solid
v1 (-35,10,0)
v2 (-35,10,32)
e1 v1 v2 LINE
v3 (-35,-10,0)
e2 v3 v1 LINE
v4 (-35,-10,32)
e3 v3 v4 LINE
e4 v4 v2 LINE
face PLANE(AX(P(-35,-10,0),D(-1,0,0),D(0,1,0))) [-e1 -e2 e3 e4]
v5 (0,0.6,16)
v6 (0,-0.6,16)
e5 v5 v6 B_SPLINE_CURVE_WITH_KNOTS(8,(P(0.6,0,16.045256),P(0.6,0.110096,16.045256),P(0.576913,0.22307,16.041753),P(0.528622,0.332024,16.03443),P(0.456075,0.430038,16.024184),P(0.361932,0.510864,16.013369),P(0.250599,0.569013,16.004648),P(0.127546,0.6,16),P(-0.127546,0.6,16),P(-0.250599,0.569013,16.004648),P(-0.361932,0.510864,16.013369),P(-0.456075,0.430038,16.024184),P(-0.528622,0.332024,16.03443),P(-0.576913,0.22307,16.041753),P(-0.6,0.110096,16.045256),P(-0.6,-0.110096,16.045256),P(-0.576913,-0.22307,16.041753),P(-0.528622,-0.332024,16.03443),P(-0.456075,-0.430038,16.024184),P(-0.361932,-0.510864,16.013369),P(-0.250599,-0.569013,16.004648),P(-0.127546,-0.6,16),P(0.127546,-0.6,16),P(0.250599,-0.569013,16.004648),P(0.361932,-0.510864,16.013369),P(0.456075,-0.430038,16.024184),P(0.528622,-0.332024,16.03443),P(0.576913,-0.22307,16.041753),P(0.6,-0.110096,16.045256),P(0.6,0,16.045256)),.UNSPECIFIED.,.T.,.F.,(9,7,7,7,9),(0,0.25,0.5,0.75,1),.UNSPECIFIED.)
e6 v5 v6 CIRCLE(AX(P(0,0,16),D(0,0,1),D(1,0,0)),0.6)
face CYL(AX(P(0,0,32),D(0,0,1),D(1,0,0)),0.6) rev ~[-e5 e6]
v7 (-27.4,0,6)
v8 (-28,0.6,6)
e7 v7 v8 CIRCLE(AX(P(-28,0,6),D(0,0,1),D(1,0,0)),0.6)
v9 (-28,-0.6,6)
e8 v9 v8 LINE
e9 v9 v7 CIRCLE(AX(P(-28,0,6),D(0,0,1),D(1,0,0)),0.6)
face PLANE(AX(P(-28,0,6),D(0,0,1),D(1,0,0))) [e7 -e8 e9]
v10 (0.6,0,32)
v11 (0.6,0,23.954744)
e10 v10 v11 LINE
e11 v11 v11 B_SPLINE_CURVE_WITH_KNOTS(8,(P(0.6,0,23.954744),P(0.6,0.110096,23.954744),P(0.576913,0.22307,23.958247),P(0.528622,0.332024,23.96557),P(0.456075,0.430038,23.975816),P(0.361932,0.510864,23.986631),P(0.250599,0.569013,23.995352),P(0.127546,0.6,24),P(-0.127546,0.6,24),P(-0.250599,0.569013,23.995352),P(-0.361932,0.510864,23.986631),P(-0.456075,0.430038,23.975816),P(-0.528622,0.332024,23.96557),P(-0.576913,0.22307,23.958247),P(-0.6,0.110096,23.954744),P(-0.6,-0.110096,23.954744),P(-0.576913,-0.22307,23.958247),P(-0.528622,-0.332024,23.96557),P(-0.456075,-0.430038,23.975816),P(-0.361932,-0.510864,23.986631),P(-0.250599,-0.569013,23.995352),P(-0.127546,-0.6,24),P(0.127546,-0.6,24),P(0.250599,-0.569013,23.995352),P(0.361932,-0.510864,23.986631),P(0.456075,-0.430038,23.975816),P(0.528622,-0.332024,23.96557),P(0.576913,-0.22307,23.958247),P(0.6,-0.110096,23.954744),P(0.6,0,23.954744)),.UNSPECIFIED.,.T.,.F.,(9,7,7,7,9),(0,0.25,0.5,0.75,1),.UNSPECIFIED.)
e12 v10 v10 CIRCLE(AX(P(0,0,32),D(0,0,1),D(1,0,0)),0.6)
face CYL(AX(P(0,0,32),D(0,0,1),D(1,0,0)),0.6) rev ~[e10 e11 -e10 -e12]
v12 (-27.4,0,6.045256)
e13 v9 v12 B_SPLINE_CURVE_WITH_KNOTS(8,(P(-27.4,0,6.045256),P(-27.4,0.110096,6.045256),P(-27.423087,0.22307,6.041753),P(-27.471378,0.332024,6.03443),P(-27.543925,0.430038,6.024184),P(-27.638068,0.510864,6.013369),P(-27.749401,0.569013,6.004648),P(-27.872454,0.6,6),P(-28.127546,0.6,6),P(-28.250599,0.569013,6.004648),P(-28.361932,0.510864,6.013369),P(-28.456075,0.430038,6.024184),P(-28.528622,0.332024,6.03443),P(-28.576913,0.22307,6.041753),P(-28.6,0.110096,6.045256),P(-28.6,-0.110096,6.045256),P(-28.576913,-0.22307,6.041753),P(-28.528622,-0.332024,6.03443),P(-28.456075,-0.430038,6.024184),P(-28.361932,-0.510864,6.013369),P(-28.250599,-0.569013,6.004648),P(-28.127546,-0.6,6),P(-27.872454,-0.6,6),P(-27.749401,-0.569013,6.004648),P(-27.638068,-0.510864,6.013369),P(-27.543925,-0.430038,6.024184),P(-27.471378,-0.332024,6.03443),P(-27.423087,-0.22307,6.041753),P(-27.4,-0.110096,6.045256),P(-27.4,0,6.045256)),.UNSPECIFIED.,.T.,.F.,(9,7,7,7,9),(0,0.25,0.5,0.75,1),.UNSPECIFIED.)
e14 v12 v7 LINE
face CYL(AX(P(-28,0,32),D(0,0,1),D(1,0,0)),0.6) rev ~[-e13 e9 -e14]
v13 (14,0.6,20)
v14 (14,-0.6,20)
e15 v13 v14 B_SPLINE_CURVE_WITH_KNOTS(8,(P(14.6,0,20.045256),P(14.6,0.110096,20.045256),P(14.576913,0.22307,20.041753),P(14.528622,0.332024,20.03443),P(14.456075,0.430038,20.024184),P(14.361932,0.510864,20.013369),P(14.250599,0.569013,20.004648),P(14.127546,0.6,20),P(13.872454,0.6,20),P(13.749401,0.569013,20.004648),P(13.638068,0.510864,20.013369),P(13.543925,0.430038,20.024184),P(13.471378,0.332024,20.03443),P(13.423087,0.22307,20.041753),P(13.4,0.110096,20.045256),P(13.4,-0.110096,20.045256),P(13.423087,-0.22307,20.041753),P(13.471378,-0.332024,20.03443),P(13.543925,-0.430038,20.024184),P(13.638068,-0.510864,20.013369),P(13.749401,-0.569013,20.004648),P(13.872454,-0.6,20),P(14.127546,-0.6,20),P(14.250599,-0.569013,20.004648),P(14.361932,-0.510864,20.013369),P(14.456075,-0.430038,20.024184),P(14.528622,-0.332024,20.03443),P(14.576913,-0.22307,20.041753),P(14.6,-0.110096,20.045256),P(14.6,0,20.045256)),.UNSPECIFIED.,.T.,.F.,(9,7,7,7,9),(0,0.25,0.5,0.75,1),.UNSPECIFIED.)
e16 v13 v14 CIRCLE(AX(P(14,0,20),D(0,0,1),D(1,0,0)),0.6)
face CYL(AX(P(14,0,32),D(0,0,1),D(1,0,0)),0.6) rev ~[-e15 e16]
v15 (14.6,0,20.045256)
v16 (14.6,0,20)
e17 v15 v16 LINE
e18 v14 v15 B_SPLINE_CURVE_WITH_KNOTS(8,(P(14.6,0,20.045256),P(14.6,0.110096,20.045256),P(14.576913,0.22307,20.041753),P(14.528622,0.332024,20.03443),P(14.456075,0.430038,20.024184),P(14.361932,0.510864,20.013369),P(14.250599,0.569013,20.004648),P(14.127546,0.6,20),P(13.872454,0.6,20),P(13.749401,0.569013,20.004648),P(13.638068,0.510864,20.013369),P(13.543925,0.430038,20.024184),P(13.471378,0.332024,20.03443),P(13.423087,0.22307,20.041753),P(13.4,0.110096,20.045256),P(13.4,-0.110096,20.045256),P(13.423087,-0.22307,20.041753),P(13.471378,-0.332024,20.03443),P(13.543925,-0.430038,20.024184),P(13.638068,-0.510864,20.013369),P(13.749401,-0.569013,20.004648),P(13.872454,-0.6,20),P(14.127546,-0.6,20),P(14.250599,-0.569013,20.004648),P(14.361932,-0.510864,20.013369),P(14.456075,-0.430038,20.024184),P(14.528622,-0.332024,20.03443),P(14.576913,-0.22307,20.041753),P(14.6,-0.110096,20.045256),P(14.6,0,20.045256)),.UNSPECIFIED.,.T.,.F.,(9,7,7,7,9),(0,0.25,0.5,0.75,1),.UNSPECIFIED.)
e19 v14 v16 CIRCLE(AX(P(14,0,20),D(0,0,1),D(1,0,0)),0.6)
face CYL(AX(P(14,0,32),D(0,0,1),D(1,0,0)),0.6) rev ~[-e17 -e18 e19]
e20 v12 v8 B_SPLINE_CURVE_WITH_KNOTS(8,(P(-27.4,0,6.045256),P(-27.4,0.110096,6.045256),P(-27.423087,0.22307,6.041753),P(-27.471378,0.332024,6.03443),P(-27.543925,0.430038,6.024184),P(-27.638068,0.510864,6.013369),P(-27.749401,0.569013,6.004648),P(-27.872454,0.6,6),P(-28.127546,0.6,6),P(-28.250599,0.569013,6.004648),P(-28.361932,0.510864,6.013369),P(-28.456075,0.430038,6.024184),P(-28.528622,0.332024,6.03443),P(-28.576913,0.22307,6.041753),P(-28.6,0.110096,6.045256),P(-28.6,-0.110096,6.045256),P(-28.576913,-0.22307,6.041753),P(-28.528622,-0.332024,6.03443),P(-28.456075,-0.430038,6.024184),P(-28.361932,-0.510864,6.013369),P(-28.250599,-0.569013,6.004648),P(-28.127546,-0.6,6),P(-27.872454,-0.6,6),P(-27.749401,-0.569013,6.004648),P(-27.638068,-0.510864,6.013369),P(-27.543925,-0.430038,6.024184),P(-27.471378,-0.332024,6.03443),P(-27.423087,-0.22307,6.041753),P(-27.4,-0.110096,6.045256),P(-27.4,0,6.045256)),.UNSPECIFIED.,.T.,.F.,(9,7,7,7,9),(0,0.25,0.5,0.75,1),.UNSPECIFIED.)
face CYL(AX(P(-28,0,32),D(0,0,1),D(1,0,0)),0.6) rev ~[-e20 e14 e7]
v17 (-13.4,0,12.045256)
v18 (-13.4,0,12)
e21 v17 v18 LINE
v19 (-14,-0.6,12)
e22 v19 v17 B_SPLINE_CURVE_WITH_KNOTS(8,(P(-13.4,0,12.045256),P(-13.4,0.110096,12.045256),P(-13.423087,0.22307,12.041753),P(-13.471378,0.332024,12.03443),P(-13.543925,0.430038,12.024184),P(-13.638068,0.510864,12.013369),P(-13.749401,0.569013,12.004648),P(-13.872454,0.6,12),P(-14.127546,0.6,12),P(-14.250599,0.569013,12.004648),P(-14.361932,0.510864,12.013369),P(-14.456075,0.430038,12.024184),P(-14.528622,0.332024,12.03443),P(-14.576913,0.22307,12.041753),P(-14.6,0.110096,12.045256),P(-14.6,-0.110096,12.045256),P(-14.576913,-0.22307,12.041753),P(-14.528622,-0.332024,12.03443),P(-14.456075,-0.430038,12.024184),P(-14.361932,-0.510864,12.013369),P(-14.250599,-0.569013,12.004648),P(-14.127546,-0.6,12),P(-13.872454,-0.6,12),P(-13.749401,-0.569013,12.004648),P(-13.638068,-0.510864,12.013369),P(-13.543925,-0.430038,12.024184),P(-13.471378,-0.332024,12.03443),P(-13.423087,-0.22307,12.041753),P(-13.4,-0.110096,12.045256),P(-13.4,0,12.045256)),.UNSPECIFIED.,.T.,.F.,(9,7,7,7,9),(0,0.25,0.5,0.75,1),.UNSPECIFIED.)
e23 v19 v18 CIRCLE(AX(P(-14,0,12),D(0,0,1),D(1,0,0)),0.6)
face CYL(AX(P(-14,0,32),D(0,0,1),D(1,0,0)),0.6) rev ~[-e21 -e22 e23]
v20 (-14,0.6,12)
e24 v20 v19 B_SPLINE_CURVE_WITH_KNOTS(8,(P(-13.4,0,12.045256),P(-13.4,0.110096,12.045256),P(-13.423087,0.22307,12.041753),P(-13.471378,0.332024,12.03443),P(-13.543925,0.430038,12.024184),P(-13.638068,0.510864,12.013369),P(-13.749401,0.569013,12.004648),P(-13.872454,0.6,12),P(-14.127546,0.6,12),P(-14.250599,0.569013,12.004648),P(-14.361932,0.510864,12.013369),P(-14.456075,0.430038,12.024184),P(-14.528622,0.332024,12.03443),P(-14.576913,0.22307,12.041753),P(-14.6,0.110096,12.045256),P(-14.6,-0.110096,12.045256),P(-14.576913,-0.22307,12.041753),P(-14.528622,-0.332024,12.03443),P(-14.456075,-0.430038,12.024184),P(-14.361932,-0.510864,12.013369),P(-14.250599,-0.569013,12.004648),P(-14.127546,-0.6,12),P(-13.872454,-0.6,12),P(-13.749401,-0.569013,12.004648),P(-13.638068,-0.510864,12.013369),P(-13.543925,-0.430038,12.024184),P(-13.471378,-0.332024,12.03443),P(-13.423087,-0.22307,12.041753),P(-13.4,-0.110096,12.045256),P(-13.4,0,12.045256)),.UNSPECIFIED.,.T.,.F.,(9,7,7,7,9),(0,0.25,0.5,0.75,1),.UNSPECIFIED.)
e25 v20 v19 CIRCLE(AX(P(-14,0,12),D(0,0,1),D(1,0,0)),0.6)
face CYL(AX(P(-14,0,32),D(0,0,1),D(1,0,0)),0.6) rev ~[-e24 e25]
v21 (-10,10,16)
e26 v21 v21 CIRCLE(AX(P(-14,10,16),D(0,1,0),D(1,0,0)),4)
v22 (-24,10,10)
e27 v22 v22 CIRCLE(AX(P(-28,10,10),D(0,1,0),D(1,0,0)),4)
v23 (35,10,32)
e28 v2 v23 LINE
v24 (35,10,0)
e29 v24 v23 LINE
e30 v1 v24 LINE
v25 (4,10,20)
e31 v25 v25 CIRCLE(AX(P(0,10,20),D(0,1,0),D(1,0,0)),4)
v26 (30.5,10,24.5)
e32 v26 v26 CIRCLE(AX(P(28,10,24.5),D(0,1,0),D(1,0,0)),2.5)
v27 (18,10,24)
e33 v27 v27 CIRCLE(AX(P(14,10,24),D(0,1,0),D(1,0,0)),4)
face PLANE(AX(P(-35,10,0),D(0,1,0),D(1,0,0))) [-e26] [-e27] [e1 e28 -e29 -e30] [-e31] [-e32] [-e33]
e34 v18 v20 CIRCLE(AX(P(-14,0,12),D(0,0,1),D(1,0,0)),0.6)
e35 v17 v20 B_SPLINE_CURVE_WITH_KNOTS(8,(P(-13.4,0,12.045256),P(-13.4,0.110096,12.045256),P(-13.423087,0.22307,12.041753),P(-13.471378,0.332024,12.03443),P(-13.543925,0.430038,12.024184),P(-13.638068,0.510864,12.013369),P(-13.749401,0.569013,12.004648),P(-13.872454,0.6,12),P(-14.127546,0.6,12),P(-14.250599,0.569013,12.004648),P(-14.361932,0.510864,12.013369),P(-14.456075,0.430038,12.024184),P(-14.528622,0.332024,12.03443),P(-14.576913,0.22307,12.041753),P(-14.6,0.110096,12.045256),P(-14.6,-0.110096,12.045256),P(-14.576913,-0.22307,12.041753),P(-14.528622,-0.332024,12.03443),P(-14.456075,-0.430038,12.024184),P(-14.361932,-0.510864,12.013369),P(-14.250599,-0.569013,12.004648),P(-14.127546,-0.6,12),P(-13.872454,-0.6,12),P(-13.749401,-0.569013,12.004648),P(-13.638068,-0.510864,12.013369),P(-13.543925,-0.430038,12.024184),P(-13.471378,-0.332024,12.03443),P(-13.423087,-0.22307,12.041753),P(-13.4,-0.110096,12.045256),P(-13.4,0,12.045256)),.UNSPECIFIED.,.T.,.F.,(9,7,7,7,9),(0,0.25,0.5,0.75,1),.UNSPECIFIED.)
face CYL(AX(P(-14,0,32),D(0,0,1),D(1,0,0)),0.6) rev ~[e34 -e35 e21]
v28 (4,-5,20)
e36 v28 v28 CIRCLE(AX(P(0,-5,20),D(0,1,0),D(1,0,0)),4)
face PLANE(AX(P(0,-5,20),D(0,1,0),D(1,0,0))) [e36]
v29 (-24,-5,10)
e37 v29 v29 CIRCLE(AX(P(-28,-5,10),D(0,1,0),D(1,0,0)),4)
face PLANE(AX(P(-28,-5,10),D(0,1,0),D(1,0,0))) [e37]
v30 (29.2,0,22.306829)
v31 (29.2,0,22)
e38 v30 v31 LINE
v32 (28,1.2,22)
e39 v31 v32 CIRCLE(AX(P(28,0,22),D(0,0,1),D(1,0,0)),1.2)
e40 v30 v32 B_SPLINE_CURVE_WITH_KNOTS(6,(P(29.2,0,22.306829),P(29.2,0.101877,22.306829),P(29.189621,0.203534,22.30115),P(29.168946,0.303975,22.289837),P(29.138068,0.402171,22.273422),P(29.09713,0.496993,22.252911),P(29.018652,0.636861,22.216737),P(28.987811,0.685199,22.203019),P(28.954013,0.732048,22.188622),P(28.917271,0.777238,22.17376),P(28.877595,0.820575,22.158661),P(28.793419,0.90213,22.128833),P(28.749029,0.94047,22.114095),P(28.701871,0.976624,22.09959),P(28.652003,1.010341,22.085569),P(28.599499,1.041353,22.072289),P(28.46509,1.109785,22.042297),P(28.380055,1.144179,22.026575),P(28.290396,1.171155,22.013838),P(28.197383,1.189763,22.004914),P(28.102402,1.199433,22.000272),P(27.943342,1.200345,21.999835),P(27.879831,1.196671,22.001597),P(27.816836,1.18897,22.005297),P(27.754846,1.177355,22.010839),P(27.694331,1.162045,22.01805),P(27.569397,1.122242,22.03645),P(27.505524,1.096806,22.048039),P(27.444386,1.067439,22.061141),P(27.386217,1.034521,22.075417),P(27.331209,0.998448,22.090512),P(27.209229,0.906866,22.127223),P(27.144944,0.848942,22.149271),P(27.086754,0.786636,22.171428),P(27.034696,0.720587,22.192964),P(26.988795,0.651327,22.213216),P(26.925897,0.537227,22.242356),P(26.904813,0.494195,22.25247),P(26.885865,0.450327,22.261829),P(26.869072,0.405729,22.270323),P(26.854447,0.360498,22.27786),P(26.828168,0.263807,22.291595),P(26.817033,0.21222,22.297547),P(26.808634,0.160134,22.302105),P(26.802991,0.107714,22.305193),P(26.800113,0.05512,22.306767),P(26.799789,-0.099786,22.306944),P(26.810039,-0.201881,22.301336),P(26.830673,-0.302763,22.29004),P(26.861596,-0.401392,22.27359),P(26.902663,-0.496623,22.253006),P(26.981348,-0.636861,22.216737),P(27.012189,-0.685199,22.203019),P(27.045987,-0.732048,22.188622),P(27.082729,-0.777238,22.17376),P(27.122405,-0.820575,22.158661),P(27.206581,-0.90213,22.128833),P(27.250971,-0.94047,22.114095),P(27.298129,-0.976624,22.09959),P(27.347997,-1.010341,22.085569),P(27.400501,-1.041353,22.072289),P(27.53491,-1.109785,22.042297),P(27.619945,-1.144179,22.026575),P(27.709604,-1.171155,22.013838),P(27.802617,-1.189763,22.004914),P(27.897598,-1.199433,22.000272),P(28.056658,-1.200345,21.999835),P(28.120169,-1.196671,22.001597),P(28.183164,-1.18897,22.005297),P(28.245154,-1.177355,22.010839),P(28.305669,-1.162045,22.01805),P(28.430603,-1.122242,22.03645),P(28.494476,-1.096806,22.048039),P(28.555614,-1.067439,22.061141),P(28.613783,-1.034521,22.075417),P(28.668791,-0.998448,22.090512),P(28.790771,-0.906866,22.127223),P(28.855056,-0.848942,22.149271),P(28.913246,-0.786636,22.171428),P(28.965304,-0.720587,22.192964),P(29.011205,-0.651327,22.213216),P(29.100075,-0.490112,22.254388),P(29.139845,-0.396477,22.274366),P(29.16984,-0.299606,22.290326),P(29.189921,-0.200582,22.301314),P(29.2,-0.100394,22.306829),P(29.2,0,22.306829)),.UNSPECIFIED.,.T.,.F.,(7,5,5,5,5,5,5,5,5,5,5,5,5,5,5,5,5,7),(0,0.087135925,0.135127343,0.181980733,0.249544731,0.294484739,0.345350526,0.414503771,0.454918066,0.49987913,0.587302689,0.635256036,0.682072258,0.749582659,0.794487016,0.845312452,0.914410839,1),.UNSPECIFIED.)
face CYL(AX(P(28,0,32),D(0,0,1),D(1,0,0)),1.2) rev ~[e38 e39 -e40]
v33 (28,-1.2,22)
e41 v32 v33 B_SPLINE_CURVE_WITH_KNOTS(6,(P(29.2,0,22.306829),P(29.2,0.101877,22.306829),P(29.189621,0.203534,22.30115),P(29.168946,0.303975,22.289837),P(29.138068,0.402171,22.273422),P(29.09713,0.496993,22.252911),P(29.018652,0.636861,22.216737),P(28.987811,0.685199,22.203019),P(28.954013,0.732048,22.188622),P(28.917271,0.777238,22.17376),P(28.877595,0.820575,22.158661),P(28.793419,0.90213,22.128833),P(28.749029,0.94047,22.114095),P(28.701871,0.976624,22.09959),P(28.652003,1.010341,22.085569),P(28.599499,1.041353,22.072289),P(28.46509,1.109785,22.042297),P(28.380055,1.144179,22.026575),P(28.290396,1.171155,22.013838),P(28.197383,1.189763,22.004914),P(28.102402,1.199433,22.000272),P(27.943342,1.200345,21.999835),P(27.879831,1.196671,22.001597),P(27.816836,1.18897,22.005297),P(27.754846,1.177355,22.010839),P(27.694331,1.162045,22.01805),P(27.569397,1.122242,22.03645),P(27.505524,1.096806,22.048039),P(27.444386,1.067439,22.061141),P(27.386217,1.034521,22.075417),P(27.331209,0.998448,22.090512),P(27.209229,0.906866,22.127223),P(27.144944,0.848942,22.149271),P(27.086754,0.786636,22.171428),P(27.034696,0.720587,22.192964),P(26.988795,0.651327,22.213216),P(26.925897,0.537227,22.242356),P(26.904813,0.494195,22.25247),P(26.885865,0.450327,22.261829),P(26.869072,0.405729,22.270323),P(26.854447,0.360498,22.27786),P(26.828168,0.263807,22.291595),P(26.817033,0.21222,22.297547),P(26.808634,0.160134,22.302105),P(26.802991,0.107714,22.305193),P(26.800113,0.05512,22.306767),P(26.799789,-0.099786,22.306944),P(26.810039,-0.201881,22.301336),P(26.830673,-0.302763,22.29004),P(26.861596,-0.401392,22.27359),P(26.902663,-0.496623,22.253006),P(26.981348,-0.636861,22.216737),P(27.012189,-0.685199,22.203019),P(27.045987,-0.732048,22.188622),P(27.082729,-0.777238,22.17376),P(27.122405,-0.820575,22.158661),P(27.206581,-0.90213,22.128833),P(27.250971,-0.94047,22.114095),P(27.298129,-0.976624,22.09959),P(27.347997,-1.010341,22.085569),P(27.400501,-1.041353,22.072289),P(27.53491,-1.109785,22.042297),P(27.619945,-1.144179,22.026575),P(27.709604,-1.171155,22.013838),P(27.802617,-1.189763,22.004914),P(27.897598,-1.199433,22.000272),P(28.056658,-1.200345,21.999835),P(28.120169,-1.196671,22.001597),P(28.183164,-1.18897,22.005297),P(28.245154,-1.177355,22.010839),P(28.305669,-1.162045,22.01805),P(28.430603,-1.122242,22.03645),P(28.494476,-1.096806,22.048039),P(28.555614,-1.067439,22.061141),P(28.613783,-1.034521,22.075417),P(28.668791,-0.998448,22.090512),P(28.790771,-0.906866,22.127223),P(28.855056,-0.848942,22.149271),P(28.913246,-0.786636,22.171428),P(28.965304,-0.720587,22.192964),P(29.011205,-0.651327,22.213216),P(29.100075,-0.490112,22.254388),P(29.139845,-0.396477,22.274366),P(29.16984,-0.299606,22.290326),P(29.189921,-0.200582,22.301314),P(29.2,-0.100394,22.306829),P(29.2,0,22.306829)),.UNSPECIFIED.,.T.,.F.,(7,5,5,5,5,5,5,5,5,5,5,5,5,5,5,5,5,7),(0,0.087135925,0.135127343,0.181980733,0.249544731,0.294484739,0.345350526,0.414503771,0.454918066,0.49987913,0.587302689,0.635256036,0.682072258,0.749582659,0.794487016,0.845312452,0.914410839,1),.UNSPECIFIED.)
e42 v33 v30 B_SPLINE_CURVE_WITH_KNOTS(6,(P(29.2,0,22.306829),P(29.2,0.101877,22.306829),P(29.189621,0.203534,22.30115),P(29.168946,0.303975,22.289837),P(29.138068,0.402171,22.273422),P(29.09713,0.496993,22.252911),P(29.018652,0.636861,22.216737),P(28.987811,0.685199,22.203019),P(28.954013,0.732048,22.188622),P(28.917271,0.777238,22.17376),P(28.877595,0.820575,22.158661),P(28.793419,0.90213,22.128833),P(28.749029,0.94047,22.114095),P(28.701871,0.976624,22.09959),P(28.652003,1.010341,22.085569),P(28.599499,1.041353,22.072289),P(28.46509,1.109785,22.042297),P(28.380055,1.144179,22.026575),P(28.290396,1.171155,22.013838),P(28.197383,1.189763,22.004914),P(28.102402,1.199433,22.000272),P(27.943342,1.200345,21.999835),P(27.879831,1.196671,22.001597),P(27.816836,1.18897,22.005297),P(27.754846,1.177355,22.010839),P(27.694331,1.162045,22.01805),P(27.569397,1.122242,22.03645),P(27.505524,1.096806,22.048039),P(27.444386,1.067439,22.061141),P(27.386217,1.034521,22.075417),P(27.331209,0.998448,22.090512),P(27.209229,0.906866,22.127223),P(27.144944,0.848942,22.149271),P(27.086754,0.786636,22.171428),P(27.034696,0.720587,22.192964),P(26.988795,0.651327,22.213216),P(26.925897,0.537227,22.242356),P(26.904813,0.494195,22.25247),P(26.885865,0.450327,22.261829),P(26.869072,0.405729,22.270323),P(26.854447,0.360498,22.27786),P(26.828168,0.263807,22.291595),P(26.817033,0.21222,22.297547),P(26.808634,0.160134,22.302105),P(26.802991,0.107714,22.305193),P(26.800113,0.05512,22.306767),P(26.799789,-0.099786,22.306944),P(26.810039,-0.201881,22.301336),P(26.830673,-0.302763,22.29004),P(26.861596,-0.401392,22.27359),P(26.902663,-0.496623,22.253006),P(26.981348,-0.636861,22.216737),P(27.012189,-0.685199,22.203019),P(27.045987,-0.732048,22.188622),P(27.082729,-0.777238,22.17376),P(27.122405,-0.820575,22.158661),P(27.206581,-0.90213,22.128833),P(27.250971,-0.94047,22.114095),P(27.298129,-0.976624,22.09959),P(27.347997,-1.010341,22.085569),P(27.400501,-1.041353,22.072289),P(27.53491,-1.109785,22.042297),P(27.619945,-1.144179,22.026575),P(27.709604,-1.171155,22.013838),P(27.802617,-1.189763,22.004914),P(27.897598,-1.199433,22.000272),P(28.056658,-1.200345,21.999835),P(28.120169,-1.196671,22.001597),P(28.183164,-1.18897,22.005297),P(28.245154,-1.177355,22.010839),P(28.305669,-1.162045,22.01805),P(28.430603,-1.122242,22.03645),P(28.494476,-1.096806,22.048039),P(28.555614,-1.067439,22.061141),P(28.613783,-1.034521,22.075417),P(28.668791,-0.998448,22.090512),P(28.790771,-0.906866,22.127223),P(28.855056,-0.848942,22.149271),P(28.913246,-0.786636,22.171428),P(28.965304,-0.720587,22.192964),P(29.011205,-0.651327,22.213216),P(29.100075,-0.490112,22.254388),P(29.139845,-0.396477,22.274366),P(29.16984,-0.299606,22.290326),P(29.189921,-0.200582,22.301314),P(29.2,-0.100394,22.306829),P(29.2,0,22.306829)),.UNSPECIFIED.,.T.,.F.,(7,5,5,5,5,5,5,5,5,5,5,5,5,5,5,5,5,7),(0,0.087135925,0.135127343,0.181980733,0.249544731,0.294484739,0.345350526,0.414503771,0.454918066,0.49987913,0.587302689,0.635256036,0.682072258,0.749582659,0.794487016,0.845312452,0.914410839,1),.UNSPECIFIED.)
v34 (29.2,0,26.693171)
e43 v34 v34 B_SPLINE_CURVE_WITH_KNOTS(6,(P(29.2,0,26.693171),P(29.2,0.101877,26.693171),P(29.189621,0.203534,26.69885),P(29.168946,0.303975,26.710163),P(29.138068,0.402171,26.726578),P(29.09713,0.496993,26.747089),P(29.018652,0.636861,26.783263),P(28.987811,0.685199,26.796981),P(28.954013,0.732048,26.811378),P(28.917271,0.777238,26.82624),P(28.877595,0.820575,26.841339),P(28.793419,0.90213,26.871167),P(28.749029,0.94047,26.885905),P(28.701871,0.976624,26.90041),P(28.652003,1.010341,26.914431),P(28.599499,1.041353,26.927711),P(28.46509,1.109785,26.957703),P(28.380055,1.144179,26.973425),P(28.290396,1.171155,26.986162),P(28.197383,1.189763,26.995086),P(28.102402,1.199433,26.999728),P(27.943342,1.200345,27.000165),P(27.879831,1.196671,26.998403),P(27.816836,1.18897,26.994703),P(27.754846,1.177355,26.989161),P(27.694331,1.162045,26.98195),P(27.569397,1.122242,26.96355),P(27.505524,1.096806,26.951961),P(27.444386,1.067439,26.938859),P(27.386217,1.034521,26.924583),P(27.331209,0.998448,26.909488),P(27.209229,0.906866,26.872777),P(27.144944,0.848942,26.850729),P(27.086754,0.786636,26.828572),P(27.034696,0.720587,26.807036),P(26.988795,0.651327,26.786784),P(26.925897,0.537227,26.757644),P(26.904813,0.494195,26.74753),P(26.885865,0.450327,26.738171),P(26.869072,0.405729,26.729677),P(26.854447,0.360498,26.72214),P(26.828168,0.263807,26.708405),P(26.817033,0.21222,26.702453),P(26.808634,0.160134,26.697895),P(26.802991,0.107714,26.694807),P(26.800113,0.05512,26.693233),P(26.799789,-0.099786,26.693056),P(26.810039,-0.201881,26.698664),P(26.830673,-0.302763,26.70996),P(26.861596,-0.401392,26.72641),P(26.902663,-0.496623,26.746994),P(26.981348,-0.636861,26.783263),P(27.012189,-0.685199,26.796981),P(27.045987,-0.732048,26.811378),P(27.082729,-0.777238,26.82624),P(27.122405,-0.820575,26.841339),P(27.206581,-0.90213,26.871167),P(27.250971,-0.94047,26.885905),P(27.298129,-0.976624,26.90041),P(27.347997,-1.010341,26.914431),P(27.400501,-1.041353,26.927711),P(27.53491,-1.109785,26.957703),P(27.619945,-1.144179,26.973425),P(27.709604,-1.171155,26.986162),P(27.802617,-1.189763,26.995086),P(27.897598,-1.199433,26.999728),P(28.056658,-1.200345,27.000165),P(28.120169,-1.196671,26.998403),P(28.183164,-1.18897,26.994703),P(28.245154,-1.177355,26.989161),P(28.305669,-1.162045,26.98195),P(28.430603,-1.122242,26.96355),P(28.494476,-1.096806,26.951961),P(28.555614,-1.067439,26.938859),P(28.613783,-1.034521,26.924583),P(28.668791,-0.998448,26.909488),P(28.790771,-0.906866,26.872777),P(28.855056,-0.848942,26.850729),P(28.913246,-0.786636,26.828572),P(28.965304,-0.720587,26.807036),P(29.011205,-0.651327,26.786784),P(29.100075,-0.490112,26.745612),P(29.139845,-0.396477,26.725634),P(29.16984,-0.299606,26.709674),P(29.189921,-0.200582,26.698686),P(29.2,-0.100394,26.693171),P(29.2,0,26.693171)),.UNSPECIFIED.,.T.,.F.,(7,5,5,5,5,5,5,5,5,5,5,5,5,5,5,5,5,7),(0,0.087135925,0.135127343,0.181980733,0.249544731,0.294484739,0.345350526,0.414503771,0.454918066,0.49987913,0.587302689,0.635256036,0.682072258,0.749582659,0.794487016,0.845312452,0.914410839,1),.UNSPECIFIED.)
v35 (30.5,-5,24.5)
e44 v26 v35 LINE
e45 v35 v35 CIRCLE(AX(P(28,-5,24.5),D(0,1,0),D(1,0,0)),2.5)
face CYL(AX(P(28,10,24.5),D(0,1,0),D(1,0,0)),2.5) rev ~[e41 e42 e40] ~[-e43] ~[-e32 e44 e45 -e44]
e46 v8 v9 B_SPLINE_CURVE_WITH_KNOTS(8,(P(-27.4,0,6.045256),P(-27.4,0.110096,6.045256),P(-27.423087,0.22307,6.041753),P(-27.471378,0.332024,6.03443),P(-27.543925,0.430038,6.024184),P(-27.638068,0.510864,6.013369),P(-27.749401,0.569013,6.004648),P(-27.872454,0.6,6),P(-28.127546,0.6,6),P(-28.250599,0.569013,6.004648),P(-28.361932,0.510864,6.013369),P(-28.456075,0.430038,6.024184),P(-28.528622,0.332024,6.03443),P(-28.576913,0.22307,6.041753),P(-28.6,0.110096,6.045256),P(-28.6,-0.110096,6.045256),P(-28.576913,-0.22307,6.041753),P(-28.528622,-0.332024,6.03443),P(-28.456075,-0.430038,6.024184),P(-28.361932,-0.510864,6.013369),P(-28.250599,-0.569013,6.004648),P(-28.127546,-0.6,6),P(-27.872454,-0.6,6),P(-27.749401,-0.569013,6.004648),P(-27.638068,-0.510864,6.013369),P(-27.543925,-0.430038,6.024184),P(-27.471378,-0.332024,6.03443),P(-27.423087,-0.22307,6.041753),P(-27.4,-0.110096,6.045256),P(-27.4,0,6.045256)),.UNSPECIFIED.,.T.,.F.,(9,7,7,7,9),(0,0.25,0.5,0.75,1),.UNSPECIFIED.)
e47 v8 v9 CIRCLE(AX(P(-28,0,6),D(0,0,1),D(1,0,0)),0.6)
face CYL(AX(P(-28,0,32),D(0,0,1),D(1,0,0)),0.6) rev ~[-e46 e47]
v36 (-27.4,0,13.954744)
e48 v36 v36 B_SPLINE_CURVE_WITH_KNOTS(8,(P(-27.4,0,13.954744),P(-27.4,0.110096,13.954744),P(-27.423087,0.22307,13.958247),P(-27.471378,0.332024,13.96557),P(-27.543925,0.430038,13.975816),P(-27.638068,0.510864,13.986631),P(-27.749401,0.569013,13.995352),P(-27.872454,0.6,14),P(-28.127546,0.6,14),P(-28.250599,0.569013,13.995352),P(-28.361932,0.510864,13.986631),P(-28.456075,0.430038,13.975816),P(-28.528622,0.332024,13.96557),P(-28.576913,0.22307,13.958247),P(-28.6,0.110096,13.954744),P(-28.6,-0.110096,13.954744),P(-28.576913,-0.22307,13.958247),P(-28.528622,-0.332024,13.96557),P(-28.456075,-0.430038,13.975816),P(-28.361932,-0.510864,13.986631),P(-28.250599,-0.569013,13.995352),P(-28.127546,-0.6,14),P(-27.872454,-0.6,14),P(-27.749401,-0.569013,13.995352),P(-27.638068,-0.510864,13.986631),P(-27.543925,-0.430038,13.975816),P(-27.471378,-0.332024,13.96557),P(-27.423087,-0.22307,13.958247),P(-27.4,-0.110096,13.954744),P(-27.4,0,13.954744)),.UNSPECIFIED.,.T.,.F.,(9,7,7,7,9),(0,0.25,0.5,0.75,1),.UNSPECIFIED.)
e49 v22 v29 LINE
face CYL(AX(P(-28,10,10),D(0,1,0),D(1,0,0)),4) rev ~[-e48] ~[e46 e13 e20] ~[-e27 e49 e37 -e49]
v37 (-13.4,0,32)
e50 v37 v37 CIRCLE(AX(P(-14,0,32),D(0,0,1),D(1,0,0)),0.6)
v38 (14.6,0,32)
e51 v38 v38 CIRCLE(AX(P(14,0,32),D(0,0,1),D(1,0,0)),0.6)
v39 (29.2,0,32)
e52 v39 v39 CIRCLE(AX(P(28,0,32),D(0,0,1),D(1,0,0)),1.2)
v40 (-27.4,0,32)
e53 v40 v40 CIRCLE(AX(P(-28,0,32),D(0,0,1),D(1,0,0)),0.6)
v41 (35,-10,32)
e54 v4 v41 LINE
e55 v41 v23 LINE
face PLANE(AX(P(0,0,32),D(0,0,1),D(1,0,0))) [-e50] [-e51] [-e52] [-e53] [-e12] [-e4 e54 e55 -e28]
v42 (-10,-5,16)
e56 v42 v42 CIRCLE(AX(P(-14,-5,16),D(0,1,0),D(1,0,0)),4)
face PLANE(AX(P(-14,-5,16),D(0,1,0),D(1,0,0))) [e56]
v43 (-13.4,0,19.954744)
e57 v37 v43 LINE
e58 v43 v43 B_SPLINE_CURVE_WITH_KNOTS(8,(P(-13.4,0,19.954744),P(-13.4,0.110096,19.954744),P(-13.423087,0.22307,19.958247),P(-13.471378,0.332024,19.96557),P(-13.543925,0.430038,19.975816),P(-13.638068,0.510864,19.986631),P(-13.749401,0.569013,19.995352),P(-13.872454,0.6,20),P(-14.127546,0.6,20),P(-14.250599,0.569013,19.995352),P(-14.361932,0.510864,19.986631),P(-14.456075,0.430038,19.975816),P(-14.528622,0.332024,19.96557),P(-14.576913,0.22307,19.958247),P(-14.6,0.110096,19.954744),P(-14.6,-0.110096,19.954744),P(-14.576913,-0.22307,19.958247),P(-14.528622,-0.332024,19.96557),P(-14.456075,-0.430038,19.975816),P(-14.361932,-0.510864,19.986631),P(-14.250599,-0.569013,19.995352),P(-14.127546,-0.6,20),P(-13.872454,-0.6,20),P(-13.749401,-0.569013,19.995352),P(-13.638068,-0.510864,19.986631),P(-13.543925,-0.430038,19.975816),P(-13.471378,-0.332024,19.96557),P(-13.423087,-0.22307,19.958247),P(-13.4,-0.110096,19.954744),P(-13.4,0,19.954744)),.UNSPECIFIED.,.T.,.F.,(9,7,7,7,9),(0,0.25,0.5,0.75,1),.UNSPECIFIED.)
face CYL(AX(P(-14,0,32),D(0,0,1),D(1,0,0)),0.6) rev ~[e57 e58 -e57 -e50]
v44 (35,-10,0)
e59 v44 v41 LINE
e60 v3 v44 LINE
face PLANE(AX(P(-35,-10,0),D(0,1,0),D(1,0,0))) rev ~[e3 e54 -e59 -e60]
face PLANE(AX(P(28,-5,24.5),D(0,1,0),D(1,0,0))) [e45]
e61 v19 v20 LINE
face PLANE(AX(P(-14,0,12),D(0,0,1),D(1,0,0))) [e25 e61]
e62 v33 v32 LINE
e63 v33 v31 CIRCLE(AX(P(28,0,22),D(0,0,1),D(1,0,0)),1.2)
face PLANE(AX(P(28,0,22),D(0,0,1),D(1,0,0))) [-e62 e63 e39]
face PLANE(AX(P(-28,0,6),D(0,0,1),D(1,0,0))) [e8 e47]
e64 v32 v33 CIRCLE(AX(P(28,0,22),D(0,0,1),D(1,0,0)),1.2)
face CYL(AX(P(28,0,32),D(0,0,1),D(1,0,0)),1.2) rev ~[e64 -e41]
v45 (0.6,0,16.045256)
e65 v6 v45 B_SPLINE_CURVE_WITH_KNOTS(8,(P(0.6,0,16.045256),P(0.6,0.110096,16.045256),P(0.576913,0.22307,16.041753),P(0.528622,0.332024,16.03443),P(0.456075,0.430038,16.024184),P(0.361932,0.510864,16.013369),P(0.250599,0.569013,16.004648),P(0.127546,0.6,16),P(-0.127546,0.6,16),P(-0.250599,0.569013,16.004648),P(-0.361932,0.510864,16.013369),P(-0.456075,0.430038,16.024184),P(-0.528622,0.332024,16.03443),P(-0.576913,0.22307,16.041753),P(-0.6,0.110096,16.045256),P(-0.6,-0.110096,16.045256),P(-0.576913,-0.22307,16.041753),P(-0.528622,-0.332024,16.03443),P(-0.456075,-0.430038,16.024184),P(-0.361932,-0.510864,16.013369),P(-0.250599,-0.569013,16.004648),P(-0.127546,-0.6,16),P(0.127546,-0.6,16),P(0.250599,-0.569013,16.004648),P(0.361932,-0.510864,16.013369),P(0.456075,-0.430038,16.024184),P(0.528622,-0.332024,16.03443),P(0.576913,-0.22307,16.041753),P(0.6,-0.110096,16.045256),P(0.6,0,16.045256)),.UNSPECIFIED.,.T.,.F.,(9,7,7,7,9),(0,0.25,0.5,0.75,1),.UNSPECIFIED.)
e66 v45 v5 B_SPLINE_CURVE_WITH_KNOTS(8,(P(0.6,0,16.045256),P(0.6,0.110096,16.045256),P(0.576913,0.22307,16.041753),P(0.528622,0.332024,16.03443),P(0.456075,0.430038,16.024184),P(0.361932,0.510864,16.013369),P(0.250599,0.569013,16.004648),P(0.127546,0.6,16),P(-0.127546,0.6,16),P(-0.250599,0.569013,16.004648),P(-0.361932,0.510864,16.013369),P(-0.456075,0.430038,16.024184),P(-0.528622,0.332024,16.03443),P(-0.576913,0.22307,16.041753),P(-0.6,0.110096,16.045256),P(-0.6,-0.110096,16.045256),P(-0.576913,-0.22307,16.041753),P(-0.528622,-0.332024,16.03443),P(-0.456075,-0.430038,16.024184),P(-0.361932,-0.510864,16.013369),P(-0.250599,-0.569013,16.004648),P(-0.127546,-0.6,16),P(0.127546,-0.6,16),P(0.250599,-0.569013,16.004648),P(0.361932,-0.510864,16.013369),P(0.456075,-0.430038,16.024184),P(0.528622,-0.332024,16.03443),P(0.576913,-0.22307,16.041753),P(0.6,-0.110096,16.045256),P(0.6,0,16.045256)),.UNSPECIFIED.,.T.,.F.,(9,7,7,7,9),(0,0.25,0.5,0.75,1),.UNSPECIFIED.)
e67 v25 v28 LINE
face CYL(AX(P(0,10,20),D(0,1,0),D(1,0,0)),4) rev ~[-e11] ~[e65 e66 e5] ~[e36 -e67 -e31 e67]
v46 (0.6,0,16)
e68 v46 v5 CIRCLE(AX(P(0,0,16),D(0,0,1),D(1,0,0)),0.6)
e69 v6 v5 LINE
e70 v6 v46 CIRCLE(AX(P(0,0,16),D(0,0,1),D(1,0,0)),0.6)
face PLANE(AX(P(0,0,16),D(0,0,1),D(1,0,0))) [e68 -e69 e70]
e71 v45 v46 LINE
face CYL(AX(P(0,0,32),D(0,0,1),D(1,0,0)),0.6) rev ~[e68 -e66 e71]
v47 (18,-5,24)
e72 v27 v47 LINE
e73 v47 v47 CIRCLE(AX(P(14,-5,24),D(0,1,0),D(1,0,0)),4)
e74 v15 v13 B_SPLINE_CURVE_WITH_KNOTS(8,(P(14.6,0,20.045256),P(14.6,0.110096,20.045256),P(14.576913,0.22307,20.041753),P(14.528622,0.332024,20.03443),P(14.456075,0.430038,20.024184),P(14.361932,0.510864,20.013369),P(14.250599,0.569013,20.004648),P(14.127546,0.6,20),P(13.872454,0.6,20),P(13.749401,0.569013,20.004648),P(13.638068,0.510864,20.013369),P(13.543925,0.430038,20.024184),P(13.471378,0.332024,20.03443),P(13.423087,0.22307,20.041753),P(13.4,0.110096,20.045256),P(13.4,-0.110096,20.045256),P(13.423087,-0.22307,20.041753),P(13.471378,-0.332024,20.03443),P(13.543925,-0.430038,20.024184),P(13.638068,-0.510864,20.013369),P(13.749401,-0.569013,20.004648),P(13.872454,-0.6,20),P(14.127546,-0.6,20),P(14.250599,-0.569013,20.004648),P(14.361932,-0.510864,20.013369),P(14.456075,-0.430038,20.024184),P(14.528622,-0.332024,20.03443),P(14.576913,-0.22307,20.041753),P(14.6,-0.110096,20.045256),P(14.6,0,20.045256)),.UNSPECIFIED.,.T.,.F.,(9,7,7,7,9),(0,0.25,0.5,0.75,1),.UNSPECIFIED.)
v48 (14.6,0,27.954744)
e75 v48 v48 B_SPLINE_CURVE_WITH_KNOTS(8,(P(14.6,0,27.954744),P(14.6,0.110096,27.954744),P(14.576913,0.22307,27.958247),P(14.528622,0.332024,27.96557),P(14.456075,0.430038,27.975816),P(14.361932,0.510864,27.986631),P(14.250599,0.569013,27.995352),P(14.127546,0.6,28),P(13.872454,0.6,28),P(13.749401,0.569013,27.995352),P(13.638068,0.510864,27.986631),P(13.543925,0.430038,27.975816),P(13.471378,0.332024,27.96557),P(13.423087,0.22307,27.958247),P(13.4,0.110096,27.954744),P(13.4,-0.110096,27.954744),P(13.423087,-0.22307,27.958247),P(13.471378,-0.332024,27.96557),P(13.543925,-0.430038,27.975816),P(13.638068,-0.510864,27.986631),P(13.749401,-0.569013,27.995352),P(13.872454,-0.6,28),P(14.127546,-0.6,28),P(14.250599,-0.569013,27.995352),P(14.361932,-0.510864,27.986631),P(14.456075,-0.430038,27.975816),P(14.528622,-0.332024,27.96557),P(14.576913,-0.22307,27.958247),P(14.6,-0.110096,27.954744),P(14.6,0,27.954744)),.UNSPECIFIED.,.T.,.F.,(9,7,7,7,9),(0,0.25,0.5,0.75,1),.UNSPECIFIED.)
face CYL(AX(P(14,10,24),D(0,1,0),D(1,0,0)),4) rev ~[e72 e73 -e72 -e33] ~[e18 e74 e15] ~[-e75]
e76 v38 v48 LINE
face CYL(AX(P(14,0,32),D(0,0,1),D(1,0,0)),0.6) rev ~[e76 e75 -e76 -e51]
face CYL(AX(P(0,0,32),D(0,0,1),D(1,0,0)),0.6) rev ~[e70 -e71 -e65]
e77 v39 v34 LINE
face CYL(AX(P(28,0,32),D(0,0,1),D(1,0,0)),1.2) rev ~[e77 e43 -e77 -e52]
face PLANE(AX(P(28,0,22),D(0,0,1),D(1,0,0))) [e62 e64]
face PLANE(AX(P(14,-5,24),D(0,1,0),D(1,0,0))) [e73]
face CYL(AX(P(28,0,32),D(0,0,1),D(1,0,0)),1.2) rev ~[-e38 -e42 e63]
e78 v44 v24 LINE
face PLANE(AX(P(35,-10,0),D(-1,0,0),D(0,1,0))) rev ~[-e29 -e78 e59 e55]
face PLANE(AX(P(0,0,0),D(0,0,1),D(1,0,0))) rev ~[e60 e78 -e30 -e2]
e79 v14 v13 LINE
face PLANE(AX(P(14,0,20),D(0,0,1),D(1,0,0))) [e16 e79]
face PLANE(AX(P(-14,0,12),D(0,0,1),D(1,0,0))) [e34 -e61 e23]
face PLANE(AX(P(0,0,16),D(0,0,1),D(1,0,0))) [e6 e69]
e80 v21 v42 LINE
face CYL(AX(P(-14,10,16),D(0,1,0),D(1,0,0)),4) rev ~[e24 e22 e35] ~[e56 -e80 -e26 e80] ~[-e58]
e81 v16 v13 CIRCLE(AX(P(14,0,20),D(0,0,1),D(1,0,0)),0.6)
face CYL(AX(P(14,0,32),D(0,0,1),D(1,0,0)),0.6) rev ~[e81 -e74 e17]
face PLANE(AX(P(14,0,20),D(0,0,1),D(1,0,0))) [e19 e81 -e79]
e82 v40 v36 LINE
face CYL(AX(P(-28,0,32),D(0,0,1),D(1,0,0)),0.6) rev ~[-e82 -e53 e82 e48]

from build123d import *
from build123d.topology import SkipClean

# Parameters (mm, degrees)
SKETCH1_W           = 70
SKETCH1_H           = 20
BOSS_EXTRUDE1_DEPTH = 32
SKETCH3_R           = 1.2
CUT_EXTRUDE1_DEPTH  = 10
SKETCH3_3_R         = 0.6
CUT_EXTRUDE2_DEPTH  = 12
SKETCH3_4_R         = 0.6
CUT_EXTRUDE3_DEPTH  = 16
SKETCH3_5_R         = 0.6
CUT_EXTRUDE4_DEPTH  = 20
SKETCH3_6_R         = 0.6
CUT_EXTRUDE5_DEPTH  = 26
SKETCH4_R           = 2.5
SKETCH4_R_2         = 4
CUT_EXTRUDE6_DEPTH  = 15


with BuildPart() as part:
    # Sketch1 → Boss-Extrude1 (new body)
    with BuildSketch(Plane.XY):
        Rectangle(SKETCH1_W, SKETCH1_H)
    extrude(amount=BOSS_EXTRUDE1_DEPTH)

    # Sketch3 → Cut-Extrude1 (cut)
    with BuildSketch(Plane.XY.offset(32)):
        with Locations((28, 0)):
            Circle(SKETCH3_R)
    extrude(amount=-CUT_EXTRUDE1_DEPTH, mode=Mode.SUBTRACT)

    # Sketch3<3> → Cut-Extrude2 (cut)
    with BuildSketch(Plane.XY.offset(32)):
        with Locations((14, 0)):
            Circle(SKETCH3_3_R)
    extrude(amount=-CUT_EXTRUDE2_DEPTH, mode=Mode.SUBTRACT)

    # Sketch3<4> → Cut-Extrude3 (cut)
    with BuildSketch(Plane.XY.offset(32)):
        Circle(SKETCH3_4_R)
    extrude(amount=-CUT_EXTRUDE3_DEPTH, mode=Mode.SUBTRACT)

    # Sketch3<5> → Cut-Extrude4 (cut)
    with BuildSketch(Plane.XY.offset(32)):
        with Locations((-14, 0)):
            Circle(SKETCH3_5_R)
    extrude(amount=-CUT_EXTRUDE4_DEPTH, mode=Mode.SUBTRACT)

    # Sketch3<6> → Cut-Extrude5 (cut)
    with BuildSketch(Plane.XY.offset(32)):
        with Locations((-28, 0)):
            Circle(SKETCH3_6_R)
    extrude(amount=-CUT_EXTRUDE5_DEPTH, mode=Mode.SUBTRACT)

    # Sketch4 → Cut-Extrude6 (cut)
    with SkipClean():  # the faces are left unmerged after this step: merging them gives an invalid solid
        with BuildSketch(Plane(origin=(0, 10, 0), x_dir=(1, 0, 0), z_dir=(0, 1, 0))):
            with Locations((28, -24.5)):
                Circle(SKETCH4_R)
            with Locations((14, -24)):
                Circle(SKETCH4_R_2)
            with Locations((0, -20)):
                Circle(SKETCH4_R_2)
            with Locations((-14, -16)):
                Circle(SKETCH4_R_2)
            with Locations((-28, -10)):
                Circle(SKETCH4_R_2)
        extrude(amount=-CUT_EXTRUDE6_DEPTH, mode=Mode.SUBTRACT)


solid = part.part
